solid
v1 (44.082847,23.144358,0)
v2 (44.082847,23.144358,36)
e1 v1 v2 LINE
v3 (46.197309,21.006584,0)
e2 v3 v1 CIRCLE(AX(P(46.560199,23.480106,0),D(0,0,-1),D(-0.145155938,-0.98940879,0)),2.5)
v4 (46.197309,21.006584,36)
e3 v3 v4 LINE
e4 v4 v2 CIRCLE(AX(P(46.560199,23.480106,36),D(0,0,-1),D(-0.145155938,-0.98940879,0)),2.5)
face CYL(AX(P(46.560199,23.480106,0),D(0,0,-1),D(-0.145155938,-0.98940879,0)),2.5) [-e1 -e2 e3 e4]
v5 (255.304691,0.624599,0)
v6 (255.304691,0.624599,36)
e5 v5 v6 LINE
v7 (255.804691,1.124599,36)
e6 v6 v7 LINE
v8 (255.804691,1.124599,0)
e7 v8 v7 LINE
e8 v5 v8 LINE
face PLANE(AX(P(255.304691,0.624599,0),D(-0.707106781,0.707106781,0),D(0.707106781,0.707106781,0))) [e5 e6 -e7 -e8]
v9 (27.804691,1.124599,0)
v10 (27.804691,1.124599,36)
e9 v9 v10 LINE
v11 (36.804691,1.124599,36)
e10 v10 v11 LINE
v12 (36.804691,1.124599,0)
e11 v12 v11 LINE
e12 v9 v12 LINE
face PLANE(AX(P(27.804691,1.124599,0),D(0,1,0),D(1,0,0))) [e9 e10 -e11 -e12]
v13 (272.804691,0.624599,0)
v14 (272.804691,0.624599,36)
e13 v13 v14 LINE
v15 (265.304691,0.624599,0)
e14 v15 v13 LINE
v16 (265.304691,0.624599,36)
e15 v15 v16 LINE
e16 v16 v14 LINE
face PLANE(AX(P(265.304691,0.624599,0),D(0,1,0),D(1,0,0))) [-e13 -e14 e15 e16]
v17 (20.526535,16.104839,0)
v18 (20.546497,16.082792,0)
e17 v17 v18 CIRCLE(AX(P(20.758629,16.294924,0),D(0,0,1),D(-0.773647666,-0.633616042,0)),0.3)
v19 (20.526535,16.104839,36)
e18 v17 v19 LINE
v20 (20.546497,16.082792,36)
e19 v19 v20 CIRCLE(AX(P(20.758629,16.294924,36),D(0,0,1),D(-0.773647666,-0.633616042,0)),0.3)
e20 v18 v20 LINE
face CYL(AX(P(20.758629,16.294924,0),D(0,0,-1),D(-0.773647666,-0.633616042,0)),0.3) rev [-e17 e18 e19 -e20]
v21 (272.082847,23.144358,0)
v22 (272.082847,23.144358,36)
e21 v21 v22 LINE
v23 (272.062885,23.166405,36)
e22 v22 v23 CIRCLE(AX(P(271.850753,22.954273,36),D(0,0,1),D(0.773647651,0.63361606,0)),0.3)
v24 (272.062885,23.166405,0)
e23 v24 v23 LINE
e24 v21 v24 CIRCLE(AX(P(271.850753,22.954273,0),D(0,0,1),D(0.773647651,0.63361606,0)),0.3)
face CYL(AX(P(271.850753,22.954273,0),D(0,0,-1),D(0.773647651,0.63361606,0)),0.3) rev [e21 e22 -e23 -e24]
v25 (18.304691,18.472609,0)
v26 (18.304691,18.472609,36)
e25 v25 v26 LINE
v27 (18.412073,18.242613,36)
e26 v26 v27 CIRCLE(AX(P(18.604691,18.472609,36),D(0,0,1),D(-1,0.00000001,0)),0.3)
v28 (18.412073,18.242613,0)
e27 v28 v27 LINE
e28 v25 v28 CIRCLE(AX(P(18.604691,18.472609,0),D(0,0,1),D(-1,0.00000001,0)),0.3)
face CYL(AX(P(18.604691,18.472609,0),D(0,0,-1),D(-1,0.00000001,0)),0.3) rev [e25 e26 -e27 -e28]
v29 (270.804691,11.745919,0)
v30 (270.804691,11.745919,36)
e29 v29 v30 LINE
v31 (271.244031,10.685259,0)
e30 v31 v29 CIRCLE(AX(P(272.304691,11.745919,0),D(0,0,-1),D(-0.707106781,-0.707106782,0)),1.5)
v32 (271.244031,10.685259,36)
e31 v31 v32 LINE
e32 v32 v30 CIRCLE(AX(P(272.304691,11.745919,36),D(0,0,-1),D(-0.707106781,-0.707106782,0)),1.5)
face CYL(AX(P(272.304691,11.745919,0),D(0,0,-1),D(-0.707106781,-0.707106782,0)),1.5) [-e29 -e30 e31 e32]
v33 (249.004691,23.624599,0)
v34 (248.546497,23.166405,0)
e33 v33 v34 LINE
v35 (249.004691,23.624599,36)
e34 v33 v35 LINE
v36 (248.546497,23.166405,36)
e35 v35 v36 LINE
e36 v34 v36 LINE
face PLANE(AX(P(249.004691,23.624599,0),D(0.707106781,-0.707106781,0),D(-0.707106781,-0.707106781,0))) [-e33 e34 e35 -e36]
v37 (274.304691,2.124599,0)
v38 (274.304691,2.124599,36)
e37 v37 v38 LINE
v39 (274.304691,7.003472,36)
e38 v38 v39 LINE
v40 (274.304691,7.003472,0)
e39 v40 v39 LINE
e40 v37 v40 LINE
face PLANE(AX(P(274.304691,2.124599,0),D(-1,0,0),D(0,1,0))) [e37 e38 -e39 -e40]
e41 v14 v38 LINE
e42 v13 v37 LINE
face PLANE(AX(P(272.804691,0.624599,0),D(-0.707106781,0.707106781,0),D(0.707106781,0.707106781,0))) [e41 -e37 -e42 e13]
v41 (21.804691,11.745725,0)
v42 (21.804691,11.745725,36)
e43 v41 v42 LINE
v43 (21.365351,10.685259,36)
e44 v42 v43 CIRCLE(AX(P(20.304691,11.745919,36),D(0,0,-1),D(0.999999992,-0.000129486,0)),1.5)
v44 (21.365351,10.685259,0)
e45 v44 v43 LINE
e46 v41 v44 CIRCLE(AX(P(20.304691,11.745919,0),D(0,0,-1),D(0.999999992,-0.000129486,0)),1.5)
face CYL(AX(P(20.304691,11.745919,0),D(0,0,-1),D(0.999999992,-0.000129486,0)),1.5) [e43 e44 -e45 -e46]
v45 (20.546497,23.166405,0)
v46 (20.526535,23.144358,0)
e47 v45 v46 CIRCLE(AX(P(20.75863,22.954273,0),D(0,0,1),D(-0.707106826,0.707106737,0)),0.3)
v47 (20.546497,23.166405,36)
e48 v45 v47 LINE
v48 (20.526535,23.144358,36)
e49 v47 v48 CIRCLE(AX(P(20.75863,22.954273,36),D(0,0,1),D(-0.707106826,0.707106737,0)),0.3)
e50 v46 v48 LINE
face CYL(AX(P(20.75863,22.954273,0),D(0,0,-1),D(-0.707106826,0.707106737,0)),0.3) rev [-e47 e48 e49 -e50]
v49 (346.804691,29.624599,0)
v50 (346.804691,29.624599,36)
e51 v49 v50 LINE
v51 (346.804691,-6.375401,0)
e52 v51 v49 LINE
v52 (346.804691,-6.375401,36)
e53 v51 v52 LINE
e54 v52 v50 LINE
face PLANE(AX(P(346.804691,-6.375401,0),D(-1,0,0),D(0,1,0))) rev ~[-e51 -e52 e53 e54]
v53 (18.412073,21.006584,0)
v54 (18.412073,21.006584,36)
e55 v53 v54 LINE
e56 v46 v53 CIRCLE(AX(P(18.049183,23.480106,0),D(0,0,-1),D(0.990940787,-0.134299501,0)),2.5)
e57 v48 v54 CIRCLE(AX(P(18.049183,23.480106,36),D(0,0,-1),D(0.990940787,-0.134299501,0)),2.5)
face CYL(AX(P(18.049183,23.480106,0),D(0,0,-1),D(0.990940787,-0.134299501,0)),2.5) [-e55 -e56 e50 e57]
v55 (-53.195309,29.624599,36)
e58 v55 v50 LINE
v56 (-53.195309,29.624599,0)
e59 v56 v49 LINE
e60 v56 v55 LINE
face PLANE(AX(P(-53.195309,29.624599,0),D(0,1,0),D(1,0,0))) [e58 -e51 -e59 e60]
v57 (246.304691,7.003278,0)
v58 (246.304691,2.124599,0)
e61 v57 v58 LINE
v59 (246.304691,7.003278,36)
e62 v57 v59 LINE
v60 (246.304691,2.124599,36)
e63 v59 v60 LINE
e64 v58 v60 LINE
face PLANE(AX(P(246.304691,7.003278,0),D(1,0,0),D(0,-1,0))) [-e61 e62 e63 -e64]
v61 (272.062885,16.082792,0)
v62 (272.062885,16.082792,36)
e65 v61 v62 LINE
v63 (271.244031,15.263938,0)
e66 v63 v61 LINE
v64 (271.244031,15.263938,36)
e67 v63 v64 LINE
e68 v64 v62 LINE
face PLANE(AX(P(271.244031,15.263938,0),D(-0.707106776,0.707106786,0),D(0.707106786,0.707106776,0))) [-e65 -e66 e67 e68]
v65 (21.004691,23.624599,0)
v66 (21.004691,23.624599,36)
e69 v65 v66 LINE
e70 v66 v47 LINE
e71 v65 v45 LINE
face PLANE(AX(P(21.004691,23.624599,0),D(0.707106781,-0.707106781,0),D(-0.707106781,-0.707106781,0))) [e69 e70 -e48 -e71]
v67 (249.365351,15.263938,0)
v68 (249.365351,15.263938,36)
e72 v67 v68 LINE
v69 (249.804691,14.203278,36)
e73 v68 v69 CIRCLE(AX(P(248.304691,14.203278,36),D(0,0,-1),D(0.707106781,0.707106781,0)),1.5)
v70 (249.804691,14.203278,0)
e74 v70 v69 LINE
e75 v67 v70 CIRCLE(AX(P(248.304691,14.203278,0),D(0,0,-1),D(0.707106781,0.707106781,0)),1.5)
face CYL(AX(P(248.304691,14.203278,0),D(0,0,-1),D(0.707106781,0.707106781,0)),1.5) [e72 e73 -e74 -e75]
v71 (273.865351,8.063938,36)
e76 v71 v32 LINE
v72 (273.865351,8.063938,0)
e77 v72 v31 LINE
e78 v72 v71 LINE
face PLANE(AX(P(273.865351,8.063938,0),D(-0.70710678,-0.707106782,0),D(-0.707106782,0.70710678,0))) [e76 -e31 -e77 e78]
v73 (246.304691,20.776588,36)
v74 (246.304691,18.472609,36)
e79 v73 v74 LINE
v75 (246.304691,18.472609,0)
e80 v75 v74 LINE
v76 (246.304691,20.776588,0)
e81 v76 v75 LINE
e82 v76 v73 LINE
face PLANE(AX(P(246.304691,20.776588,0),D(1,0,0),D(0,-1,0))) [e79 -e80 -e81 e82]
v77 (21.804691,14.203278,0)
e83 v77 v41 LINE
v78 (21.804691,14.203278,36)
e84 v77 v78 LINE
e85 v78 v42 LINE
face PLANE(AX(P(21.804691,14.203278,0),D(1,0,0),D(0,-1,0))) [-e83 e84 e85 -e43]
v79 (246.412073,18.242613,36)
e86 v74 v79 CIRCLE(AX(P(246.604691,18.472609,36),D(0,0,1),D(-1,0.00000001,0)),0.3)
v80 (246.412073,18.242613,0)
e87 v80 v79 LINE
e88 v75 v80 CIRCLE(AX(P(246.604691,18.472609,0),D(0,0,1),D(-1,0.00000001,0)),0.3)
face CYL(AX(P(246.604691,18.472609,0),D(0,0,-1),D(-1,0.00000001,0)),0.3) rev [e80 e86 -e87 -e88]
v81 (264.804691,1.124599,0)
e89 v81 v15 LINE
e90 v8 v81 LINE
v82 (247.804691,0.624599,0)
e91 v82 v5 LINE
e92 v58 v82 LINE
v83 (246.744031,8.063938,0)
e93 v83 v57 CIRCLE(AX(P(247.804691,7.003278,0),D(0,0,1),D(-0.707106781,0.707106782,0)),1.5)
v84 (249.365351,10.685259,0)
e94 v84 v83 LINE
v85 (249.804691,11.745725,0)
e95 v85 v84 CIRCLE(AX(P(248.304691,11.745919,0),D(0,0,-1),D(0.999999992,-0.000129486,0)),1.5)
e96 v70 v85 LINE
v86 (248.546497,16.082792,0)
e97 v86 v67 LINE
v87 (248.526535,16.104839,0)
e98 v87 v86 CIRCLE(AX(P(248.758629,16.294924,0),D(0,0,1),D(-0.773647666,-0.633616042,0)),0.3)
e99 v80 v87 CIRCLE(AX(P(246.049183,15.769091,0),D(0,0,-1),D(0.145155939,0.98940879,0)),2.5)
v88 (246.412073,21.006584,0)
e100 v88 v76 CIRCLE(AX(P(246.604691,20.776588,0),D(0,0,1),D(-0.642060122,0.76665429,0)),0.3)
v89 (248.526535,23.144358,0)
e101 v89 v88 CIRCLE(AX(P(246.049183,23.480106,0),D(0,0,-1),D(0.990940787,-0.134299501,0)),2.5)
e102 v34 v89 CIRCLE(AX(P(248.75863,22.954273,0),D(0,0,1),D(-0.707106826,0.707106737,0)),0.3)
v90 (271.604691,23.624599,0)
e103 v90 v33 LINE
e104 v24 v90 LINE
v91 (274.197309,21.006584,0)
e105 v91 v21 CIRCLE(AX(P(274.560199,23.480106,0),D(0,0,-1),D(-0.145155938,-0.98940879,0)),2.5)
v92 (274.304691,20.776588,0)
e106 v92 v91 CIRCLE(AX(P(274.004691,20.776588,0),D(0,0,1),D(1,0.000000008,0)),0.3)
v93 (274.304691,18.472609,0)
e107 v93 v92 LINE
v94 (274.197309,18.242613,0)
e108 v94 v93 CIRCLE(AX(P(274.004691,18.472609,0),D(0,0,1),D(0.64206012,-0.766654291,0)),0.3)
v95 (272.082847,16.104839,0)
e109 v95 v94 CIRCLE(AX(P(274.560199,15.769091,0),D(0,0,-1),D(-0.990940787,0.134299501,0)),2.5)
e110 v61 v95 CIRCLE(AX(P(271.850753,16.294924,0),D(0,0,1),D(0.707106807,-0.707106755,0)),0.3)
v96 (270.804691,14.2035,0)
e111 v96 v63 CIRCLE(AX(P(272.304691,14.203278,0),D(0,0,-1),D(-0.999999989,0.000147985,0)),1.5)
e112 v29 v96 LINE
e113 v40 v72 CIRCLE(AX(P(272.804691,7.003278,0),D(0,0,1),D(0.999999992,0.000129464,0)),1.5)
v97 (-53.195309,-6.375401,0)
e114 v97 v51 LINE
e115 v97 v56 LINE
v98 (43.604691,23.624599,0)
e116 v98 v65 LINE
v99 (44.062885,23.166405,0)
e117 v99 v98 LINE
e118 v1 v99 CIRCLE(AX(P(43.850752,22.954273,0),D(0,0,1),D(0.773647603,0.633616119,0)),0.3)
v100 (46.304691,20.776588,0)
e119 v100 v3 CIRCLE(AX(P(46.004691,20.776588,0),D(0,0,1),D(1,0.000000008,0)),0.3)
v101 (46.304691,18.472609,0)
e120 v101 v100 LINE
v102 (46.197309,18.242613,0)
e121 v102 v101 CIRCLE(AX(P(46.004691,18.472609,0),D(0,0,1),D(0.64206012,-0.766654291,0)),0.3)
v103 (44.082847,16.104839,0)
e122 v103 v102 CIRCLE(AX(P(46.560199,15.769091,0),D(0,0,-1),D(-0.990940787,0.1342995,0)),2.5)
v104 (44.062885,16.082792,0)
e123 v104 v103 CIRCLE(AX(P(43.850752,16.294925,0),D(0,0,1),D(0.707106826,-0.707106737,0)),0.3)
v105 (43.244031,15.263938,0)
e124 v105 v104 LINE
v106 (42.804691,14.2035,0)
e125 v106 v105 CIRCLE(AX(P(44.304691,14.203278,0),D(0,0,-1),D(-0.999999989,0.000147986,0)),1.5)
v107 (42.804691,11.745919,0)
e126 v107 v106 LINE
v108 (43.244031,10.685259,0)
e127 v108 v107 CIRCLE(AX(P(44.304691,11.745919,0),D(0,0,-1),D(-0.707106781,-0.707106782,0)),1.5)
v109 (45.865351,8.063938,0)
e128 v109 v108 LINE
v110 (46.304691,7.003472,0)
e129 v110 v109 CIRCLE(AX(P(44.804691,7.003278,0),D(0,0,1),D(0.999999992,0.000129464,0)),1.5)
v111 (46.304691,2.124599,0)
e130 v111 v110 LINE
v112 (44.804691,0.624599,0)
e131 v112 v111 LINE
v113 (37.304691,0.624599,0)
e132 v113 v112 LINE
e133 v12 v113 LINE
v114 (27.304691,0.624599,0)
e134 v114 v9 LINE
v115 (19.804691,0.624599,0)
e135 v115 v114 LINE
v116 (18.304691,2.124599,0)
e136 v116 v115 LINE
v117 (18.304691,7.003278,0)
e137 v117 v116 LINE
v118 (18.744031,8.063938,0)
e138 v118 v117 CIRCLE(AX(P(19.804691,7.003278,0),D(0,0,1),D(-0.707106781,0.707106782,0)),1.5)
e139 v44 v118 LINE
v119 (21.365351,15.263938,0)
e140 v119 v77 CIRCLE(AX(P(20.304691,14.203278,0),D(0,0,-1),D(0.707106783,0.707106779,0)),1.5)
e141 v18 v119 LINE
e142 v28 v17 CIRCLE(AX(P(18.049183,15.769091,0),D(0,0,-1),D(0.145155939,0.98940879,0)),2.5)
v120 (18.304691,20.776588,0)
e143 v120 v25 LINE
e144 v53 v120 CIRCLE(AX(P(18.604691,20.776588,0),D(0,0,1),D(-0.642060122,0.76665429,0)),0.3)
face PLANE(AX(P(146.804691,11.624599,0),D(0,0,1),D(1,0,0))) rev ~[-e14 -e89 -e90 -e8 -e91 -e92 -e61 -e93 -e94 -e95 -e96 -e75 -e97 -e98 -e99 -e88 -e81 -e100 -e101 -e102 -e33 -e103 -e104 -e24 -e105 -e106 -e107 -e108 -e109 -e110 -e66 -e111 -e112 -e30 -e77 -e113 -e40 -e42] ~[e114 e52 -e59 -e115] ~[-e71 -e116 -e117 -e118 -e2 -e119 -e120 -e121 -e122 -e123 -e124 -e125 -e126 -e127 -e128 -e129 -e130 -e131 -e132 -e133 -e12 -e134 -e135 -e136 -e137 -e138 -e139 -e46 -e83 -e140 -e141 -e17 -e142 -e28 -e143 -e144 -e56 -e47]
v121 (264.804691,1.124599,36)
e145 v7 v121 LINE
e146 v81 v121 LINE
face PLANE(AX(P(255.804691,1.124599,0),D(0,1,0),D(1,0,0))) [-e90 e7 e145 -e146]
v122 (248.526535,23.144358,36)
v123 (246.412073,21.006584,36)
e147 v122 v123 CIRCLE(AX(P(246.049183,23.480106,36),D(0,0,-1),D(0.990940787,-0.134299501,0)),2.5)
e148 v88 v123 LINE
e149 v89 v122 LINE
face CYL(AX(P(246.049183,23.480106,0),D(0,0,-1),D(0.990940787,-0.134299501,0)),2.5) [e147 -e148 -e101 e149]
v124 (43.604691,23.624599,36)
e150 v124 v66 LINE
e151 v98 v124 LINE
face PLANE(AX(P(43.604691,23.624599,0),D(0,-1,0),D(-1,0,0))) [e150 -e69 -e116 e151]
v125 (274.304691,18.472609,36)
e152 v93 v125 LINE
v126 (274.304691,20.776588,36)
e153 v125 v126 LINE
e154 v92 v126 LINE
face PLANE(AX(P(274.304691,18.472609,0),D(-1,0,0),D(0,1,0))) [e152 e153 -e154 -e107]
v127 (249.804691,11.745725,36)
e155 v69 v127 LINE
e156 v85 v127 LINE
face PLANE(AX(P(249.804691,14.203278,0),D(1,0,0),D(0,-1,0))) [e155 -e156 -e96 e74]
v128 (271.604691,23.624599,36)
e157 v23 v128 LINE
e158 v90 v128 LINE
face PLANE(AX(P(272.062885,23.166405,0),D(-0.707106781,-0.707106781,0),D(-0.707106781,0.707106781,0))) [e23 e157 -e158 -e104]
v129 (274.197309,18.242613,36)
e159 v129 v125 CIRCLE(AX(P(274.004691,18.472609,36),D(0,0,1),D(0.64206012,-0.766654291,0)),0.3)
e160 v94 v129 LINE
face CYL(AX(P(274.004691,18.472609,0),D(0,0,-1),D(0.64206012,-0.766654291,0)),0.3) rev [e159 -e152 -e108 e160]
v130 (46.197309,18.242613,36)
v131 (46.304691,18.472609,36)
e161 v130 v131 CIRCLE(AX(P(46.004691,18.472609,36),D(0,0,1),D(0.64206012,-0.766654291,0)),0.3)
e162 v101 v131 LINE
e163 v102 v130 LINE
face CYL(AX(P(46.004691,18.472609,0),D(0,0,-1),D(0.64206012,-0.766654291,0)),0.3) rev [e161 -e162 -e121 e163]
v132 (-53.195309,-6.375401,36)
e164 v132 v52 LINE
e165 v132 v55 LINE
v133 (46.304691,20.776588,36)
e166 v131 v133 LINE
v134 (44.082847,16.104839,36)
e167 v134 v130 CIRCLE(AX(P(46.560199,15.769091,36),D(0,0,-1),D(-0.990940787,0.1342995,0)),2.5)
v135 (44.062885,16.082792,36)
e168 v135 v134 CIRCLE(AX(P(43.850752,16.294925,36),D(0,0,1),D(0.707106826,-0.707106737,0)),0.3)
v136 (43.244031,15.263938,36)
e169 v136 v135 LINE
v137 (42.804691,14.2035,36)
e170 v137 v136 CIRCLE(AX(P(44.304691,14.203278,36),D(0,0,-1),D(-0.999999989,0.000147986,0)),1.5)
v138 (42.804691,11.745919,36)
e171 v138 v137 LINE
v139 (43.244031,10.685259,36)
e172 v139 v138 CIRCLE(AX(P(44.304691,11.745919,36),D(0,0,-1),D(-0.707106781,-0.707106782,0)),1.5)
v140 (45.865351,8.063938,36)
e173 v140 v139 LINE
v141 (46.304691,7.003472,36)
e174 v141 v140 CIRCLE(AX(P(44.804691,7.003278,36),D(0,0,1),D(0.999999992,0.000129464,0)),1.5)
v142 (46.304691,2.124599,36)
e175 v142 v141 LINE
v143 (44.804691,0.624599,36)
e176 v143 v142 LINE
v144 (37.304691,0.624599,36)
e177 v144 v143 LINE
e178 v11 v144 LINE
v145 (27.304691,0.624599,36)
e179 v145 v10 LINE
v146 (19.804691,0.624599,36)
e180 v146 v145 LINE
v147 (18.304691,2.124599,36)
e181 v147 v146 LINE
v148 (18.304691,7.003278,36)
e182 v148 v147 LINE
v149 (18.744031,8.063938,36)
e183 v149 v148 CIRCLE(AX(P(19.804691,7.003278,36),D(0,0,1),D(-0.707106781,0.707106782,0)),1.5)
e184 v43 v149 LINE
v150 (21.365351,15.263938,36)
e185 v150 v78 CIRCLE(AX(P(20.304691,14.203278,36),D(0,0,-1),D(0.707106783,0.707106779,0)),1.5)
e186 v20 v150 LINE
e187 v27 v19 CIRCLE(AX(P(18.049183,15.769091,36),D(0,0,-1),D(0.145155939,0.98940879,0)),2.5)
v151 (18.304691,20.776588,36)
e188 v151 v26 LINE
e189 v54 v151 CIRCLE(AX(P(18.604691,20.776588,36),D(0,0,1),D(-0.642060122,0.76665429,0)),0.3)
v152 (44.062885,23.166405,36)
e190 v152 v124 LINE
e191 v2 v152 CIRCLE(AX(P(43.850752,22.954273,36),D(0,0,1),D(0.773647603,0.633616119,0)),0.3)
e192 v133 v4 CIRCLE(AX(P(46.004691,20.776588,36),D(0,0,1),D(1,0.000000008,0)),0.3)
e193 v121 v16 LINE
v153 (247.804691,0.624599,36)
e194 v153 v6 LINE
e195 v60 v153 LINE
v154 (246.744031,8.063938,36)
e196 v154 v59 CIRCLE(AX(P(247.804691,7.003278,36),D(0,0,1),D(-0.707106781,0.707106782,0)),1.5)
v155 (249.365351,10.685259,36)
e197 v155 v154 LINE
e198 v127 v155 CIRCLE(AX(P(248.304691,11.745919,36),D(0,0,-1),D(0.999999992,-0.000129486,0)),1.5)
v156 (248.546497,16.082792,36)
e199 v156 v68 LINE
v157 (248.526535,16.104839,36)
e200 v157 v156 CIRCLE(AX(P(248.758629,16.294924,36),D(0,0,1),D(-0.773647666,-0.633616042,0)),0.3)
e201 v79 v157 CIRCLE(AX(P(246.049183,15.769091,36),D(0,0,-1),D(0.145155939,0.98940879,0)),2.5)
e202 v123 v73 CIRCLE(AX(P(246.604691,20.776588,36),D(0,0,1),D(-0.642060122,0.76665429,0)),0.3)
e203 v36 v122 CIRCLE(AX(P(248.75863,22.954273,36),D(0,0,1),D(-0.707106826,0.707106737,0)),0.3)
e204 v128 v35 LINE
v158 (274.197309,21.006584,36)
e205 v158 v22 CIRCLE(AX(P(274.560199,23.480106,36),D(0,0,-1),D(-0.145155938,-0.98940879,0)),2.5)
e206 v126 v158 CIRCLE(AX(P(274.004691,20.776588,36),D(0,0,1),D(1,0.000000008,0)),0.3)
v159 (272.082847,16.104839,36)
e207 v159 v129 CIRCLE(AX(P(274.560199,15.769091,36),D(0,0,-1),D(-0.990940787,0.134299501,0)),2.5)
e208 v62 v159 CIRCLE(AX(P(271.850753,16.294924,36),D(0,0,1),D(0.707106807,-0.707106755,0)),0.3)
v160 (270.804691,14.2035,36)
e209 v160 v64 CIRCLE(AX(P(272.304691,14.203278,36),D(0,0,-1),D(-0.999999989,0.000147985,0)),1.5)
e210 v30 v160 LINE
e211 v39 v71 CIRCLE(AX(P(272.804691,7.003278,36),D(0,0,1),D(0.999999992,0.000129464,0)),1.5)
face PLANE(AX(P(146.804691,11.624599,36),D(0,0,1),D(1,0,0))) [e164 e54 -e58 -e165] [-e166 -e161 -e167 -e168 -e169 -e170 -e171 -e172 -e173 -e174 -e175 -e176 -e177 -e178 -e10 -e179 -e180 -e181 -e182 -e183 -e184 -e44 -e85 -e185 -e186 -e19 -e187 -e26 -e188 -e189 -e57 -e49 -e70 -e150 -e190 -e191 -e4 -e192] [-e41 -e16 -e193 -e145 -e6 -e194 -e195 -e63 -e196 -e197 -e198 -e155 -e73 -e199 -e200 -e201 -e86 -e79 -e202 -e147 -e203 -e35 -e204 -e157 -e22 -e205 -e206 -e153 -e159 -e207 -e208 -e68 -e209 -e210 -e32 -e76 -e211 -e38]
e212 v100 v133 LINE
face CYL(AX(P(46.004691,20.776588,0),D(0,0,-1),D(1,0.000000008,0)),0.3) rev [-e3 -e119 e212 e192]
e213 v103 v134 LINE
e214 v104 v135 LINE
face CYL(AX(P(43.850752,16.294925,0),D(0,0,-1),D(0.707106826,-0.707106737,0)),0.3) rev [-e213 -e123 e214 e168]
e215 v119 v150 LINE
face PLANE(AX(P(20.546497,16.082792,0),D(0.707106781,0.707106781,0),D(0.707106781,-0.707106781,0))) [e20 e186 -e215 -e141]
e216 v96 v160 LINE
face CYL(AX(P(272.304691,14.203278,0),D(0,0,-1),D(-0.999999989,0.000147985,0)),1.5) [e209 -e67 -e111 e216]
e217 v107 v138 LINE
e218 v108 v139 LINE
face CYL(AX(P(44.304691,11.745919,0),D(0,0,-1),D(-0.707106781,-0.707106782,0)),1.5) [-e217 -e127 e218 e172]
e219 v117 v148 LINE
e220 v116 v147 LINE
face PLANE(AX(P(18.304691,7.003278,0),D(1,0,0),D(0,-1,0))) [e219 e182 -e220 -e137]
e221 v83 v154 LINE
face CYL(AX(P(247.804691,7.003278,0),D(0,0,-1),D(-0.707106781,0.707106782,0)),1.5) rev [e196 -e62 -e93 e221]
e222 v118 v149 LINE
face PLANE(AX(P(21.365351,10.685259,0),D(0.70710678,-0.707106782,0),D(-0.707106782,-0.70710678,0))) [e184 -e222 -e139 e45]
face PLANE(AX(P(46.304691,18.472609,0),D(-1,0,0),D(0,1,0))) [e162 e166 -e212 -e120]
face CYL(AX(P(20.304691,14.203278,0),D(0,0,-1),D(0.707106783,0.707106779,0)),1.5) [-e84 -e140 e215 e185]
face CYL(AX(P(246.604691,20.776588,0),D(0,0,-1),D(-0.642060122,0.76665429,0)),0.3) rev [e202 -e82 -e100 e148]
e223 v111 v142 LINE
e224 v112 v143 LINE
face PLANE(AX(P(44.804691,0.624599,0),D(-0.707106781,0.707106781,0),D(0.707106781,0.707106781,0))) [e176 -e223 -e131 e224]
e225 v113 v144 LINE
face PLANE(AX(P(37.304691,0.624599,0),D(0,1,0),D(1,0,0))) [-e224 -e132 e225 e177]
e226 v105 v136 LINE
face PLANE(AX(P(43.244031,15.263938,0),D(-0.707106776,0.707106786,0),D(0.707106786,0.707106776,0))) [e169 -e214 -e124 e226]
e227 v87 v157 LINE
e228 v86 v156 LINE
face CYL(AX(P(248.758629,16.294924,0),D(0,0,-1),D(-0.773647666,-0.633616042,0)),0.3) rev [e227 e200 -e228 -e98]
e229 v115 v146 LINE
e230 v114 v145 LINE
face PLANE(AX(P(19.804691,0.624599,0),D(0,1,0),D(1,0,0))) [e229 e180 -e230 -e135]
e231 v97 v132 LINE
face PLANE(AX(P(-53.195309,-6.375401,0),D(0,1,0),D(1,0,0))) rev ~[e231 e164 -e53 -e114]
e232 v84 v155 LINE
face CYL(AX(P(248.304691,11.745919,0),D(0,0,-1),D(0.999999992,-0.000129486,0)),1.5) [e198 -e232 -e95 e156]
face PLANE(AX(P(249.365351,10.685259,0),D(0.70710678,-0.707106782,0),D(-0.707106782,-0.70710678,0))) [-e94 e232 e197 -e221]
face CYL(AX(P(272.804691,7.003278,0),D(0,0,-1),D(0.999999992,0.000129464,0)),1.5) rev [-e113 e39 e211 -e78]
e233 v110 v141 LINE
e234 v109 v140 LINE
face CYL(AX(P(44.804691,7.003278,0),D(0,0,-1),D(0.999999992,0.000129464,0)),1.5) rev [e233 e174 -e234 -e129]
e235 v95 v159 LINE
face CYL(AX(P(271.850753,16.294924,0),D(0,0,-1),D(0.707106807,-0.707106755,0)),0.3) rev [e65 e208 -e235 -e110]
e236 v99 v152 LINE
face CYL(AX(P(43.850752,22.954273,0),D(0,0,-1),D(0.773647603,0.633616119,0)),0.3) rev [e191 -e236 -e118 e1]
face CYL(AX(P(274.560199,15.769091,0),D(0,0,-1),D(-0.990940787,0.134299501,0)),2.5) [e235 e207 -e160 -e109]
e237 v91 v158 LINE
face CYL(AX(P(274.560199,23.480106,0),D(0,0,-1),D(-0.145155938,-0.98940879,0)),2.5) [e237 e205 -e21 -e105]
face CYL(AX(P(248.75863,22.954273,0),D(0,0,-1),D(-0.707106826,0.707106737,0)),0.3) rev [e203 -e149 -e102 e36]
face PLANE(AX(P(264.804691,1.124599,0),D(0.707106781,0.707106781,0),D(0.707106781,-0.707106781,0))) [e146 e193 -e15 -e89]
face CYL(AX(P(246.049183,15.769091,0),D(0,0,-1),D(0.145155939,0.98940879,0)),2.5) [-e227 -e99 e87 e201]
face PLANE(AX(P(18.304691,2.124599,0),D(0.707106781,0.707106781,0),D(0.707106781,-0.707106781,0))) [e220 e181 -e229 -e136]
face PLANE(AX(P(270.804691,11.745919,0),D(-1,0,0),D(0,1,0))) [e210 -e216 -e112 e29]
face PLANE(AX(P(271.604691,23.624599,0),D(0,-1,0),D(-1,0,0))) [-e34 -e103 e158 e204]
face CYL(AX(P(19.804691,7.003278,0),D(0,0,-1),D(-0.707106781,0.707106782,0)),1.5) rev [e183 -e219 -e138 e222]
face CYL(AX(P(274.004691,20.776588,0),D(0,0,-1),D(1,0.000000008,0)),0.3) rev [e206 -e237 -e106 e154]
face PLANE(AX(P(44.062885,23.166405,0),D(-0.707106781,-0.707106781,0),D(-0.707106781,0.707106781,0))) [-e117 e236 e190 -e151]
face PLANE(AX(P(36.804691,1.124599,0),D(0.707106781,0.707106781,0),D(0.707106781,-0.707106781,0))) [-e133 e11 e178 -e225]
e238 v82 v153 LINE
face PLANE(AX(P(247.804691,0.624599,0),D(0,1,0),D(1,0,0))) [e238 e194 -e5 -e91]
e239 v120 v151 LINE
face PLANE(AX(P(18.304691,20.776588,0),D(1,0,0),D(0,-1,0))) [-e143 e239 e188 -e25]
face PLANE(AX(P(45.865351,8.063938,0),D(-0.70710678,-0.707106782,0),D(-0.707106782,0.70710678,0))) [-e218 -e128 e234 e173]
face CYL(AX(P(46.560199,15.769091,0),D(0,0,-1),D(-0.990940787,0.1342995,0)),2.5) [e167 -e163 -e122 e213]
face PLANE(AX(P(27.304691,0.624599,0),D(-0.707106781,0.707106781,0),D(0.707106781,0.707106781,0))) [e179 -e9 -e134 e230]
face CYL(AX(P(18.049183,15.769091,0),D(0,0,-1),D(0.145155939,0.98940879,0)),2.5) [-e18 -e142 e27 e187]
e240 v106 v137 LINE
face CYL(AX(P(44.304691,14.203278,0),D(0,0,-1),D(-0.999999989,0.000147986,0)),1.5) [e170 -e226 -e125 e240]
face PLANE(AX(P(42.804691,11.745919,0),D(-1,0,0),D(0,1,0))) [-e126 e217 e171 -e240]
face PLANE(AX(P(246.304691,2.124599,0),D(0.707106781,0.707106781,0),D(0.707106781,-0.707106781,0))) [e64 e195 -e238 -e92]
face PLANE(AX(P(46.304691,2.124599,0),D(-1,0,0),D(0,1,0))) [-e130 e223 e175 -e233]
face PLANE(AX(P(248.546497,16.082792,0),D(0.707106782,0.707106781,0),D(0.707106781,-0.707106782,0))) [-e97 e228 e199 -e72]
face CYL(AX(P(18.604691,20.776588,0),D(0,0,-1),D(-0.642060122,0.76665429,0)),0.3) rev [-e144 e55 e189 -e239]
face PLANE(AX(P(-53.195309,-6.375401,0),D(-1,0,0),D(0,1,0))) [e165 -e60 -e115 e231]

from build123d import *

# Parameters (mm, degrees)
SKETCH_1_W      = 400
SKETCH_1_H      = 36
EXTRUDE_1_DEPTH = 36


with BuildPart() as part:
    # 草图1 → 凸台-拉伸1 (new body)
    with BuildSketch(Plane.XY):
        with Locations((146.804691074, 11.624598534)):
            Rectangle(SKETCH_1_W, SKETCH_1_H)
        with BuildLine():
            Line((18.304691074, 20.776588155), (18.304691074, 18.472608914))
            ThreePointArc((18.304691074, 18.472608914), (18.332858946, 18.345694397), (18.412073037, 18.242612627))
            ThreePointArc((18.412073037, 18.242612627), (19.826614478, 17.527140145), (20.52653516, 16.104839403))
            ThreePointArc((20.52653516, 16.104839403), (20.536242904, 16.093568263), (20.546497421, 16.082792187))
            Line((20.546497421, 16.082792187), (21.365351246, 15.263938362))
            ThreePointArc((21.365351246, 15.263938362), (21.690510372, 14.777303339), (21.804691074, 14.203278191))
            Line((21.804691074, 14.203278191), (21.804691074, 11.745724673))
            ThreePointArc((21.804691074, 11.745724673), (21.690473216, 11.171804017), (21.36535125, 10.685258701))
            Line((21.36535125, 10.685258701), (18.744030902, 8.063938362))
            ThreePointArc((18.744030902, 8.063938362), (18.418871775, 7.577303339), (18.304691074, 7.003278191))
            Line((18.304691074, 7.003278191), (18.304691074, 2.124598534))
            Line((18.304691074, 2.124598534), (19.804691074, 0.624598534))
            Line((19.804691074, 0.624598534), (27.304691074, 0.624598534))
            Line((27.304691074, 0.624598534), (27.804691074, 1.124598534))
            Line((27.804691074, 1.124598534), (36.804691074, 1.124598534))
            Line((36.804691074, 1.124598534), (37.304691074, 0.624598534))
            Line((37.304691074, 0.624598534), (44.804691074, 0.624598534))
            Line((44.804691074, 0.624598534), (46.304691074, 2.124598534))
            Line((46.304691074, 2.124598534), (46.304691074, 7.003472395))
            ThreePointArc((46.304691074, 7.003472395), (46.190473222, 7.577393054), (45.86535125, 8.063938367))
            Line((45.86535125, 8.063938367), (43.244030902, 10.685258706))
            ThreePointArc((43.244030902, 10.685258706), (42.918871775, 11.171893729), (42.804691074, 11.745918878))
            Line((42.804691074, 11.745918878), (42.804691075, 14.203500139))
            ThreePointArc((42.804691075, 14.203500139), (42.91891424, 14.777405867), (43.244030896, 15.263938368))
            Line((43.244030896, 15.263938368), (44.062884727, 16.082792187))
            ThreePointArc((44.062884727, 16.082792187), (44.073139243, 16.093568263), (44.082846988, 16.104839403))
            ThreePointArc((44.082846988, 16.104839403), (44.782767669, 17.527140145), (46.19730911, 18.242612627))
            ThreePointArc((46.19730911, 18.242612627), (46.276523201, 18.345694397), (46.304691074, 18.472608914))
            Line((46.304691074, 18.472608914), (46.304691074, 20.776588155))
            ThreePointArc((46.304691074, 20.776588155), (46.276523201, 20.903502671), (46.19730911, 21.006584442))
            ThreePointArc((46.19730911, 21.006584442), (44.782767669, 21.722056923), (44.082846988, 23.144357665))
            ThreePointArc((44.082846988, 23.144357665), (44.073139243, 23.155628805), (44.062884727, 23.166404881))
            Line((44.062884727, 23.166404881), (43.604691074, 23.624598534))
            Line((43.604691074, 23.624598534), (21.004691074, 23.624598534))
            Line((21.004691074, 23.624598534), (20.546497421, 23.166404881))
            ThreePointArc((20.546497421, 23.166404881), (20.536242905, 23.155628805), (20.52653516, 23.144357665))
            ThreePointArc((20.52653516, 23.144357665), (19.826614478, 21.722056923), (18.412073037, 21.006584442))
            ThreePointArc((18.412073037, 21.006584442), (18.332858946, 20.903502671), (18.304691074, 20.776588155))
        make_face(mode=Mode.SUBTRACT)
        with BuildLine():
            Line((246.304691074, 20.776588155), (246.304691074, 18.472608914))
            ThreePointArc((246.304691074, 18.472608914), (246.332858946, 18.345694397), (246.412073037, 18.242612627))
            ThreePointArc((246.412073037, 18.242612627), (247.826614478, 17.527140145), (248.52653516, 16.104839403))
            ThreePointArc((248.52653516, 16.104839403), (248.536242904, 16.093568263), (248.546497421, 16.082792187))
            Line((248.546497421, 16.082792187), (249.365351245, 15.263938362))
            ThreePointArc((249.365351245, 15.263938362), (249.690510372, 14.777303339), (249.804691074, 14.203278191))
            Line((249.804691074, 14.203278191), (249.804691074, 11.745724673))
            ThreePointArc((249.804691074, 11.745724673), (249.690473216, 11.171804017), (249.36535125, 10.685258701))
            Line((249.36535125, 10.685258701), (246.744030902, 8.063938362))
            ThreePointArc((246.744030902, 8.063938362), (246.418871775, 7.577303339), (246.304691074, 7.003278191))
            Line((246.304691074, 7.003278191), (246.304691074, 2.124598534))
            Line((246.304691074, 2.124598534), (247.804691074, 0.624598534))
            Line((247.804691074, 0.624598534), (255.304691074, 0.624598534))
            Line((255.304691074, 0.624598534), (255.804691074, 1.124598534))
            Line((255.804691074, 1.124598534), (264.804691074, 1.124598534))
            Line((264.804691074, 1.124598534), (265.304691074, 0.624598534))
            Line((265.304691074, 0.624598534), (272.804691074, 0.624598534))
            Line((272.804691074, 0.624598534), (274.304691074, 2.124598534))
            Line((274.304691074, 2.124598534), (274.304691074, 7.003472395))
            ThreePointArc((274.304691074, 7.003472395), (274.190473222, 7.577393054), (273.86535125, 8.063938367))
            Line((273.86535125, 8.063938367), (271.244030902, 10.685258706))
            ThreePointArc((271.244030902, 10.685258706), (270.918871775, 11.171893729), (270.804691074, 11.745918878))
            Line((270.804691074, 11.745918878), (270.804691074, 14.203500139))
            ThreePointArc((270.804691074, 14.203500139), (270.918914239, 14.777405867), (271.244030896, 15.263938368))
            Line((271.244030896, 15.263938368), (272.062884727, 16.082792187))
            ThreePointArc((272.062884727, 16.082792187), (272.073139243, 16.093568263), (272.082846987, 16.104839403))
            ThreePointArc((272.082846987, 16.104839403), (272.782767669, 17.527140145), (274.19730911, 18.242612627))
            ThreePointArc((274.19730911, 18.242612627), (274.276523201, 18.345694397), (274.304691074, 18.472608914))
            Line((274.304691074, 18.472608914), (274.304691074, 20.776588155))
            ThreePointArc((274.304691074, 20.776588155), (274.276523201, 20.903502671), (274.19730911, 21.006584442))
            ThreePointArc((274.19730911, 21.006584442), (272.782767669, 21.722056923), (272.082846987, 23.144357665))
            ThreePointArc((272.082846987, 23.144357665), (272.073139243, 23.155628805), (272.062884727, 23.166404881))
            Line((272.062884727, 23.166404881), (271.604691074, 23.624598534))
            Line((271.604691074, 23.624598534), (249.004691074, 23.624598534))
            Line((249.004691074, 23.624598534), (248.546497421, 23.166404881))
            ThreePointArc((248.546497421, 23.166404881), (248.536242905, 23.155628805), (248.52653516, 23.144357665))
            ThreePointArc((248.52653516, 23.144357665), (247.826614478, 21.722056923), (246.412073037, 21.006584442))
            ThreePointArc((246.412073037, 21.006584442), (246.332858946, 20.903502671), (246.304691074, 20.776588155))
        make_face(mode=Mode.SUBTRACT)
    extrude(amount=EXTRUDE_1_DEPTH)


solid = part.part
